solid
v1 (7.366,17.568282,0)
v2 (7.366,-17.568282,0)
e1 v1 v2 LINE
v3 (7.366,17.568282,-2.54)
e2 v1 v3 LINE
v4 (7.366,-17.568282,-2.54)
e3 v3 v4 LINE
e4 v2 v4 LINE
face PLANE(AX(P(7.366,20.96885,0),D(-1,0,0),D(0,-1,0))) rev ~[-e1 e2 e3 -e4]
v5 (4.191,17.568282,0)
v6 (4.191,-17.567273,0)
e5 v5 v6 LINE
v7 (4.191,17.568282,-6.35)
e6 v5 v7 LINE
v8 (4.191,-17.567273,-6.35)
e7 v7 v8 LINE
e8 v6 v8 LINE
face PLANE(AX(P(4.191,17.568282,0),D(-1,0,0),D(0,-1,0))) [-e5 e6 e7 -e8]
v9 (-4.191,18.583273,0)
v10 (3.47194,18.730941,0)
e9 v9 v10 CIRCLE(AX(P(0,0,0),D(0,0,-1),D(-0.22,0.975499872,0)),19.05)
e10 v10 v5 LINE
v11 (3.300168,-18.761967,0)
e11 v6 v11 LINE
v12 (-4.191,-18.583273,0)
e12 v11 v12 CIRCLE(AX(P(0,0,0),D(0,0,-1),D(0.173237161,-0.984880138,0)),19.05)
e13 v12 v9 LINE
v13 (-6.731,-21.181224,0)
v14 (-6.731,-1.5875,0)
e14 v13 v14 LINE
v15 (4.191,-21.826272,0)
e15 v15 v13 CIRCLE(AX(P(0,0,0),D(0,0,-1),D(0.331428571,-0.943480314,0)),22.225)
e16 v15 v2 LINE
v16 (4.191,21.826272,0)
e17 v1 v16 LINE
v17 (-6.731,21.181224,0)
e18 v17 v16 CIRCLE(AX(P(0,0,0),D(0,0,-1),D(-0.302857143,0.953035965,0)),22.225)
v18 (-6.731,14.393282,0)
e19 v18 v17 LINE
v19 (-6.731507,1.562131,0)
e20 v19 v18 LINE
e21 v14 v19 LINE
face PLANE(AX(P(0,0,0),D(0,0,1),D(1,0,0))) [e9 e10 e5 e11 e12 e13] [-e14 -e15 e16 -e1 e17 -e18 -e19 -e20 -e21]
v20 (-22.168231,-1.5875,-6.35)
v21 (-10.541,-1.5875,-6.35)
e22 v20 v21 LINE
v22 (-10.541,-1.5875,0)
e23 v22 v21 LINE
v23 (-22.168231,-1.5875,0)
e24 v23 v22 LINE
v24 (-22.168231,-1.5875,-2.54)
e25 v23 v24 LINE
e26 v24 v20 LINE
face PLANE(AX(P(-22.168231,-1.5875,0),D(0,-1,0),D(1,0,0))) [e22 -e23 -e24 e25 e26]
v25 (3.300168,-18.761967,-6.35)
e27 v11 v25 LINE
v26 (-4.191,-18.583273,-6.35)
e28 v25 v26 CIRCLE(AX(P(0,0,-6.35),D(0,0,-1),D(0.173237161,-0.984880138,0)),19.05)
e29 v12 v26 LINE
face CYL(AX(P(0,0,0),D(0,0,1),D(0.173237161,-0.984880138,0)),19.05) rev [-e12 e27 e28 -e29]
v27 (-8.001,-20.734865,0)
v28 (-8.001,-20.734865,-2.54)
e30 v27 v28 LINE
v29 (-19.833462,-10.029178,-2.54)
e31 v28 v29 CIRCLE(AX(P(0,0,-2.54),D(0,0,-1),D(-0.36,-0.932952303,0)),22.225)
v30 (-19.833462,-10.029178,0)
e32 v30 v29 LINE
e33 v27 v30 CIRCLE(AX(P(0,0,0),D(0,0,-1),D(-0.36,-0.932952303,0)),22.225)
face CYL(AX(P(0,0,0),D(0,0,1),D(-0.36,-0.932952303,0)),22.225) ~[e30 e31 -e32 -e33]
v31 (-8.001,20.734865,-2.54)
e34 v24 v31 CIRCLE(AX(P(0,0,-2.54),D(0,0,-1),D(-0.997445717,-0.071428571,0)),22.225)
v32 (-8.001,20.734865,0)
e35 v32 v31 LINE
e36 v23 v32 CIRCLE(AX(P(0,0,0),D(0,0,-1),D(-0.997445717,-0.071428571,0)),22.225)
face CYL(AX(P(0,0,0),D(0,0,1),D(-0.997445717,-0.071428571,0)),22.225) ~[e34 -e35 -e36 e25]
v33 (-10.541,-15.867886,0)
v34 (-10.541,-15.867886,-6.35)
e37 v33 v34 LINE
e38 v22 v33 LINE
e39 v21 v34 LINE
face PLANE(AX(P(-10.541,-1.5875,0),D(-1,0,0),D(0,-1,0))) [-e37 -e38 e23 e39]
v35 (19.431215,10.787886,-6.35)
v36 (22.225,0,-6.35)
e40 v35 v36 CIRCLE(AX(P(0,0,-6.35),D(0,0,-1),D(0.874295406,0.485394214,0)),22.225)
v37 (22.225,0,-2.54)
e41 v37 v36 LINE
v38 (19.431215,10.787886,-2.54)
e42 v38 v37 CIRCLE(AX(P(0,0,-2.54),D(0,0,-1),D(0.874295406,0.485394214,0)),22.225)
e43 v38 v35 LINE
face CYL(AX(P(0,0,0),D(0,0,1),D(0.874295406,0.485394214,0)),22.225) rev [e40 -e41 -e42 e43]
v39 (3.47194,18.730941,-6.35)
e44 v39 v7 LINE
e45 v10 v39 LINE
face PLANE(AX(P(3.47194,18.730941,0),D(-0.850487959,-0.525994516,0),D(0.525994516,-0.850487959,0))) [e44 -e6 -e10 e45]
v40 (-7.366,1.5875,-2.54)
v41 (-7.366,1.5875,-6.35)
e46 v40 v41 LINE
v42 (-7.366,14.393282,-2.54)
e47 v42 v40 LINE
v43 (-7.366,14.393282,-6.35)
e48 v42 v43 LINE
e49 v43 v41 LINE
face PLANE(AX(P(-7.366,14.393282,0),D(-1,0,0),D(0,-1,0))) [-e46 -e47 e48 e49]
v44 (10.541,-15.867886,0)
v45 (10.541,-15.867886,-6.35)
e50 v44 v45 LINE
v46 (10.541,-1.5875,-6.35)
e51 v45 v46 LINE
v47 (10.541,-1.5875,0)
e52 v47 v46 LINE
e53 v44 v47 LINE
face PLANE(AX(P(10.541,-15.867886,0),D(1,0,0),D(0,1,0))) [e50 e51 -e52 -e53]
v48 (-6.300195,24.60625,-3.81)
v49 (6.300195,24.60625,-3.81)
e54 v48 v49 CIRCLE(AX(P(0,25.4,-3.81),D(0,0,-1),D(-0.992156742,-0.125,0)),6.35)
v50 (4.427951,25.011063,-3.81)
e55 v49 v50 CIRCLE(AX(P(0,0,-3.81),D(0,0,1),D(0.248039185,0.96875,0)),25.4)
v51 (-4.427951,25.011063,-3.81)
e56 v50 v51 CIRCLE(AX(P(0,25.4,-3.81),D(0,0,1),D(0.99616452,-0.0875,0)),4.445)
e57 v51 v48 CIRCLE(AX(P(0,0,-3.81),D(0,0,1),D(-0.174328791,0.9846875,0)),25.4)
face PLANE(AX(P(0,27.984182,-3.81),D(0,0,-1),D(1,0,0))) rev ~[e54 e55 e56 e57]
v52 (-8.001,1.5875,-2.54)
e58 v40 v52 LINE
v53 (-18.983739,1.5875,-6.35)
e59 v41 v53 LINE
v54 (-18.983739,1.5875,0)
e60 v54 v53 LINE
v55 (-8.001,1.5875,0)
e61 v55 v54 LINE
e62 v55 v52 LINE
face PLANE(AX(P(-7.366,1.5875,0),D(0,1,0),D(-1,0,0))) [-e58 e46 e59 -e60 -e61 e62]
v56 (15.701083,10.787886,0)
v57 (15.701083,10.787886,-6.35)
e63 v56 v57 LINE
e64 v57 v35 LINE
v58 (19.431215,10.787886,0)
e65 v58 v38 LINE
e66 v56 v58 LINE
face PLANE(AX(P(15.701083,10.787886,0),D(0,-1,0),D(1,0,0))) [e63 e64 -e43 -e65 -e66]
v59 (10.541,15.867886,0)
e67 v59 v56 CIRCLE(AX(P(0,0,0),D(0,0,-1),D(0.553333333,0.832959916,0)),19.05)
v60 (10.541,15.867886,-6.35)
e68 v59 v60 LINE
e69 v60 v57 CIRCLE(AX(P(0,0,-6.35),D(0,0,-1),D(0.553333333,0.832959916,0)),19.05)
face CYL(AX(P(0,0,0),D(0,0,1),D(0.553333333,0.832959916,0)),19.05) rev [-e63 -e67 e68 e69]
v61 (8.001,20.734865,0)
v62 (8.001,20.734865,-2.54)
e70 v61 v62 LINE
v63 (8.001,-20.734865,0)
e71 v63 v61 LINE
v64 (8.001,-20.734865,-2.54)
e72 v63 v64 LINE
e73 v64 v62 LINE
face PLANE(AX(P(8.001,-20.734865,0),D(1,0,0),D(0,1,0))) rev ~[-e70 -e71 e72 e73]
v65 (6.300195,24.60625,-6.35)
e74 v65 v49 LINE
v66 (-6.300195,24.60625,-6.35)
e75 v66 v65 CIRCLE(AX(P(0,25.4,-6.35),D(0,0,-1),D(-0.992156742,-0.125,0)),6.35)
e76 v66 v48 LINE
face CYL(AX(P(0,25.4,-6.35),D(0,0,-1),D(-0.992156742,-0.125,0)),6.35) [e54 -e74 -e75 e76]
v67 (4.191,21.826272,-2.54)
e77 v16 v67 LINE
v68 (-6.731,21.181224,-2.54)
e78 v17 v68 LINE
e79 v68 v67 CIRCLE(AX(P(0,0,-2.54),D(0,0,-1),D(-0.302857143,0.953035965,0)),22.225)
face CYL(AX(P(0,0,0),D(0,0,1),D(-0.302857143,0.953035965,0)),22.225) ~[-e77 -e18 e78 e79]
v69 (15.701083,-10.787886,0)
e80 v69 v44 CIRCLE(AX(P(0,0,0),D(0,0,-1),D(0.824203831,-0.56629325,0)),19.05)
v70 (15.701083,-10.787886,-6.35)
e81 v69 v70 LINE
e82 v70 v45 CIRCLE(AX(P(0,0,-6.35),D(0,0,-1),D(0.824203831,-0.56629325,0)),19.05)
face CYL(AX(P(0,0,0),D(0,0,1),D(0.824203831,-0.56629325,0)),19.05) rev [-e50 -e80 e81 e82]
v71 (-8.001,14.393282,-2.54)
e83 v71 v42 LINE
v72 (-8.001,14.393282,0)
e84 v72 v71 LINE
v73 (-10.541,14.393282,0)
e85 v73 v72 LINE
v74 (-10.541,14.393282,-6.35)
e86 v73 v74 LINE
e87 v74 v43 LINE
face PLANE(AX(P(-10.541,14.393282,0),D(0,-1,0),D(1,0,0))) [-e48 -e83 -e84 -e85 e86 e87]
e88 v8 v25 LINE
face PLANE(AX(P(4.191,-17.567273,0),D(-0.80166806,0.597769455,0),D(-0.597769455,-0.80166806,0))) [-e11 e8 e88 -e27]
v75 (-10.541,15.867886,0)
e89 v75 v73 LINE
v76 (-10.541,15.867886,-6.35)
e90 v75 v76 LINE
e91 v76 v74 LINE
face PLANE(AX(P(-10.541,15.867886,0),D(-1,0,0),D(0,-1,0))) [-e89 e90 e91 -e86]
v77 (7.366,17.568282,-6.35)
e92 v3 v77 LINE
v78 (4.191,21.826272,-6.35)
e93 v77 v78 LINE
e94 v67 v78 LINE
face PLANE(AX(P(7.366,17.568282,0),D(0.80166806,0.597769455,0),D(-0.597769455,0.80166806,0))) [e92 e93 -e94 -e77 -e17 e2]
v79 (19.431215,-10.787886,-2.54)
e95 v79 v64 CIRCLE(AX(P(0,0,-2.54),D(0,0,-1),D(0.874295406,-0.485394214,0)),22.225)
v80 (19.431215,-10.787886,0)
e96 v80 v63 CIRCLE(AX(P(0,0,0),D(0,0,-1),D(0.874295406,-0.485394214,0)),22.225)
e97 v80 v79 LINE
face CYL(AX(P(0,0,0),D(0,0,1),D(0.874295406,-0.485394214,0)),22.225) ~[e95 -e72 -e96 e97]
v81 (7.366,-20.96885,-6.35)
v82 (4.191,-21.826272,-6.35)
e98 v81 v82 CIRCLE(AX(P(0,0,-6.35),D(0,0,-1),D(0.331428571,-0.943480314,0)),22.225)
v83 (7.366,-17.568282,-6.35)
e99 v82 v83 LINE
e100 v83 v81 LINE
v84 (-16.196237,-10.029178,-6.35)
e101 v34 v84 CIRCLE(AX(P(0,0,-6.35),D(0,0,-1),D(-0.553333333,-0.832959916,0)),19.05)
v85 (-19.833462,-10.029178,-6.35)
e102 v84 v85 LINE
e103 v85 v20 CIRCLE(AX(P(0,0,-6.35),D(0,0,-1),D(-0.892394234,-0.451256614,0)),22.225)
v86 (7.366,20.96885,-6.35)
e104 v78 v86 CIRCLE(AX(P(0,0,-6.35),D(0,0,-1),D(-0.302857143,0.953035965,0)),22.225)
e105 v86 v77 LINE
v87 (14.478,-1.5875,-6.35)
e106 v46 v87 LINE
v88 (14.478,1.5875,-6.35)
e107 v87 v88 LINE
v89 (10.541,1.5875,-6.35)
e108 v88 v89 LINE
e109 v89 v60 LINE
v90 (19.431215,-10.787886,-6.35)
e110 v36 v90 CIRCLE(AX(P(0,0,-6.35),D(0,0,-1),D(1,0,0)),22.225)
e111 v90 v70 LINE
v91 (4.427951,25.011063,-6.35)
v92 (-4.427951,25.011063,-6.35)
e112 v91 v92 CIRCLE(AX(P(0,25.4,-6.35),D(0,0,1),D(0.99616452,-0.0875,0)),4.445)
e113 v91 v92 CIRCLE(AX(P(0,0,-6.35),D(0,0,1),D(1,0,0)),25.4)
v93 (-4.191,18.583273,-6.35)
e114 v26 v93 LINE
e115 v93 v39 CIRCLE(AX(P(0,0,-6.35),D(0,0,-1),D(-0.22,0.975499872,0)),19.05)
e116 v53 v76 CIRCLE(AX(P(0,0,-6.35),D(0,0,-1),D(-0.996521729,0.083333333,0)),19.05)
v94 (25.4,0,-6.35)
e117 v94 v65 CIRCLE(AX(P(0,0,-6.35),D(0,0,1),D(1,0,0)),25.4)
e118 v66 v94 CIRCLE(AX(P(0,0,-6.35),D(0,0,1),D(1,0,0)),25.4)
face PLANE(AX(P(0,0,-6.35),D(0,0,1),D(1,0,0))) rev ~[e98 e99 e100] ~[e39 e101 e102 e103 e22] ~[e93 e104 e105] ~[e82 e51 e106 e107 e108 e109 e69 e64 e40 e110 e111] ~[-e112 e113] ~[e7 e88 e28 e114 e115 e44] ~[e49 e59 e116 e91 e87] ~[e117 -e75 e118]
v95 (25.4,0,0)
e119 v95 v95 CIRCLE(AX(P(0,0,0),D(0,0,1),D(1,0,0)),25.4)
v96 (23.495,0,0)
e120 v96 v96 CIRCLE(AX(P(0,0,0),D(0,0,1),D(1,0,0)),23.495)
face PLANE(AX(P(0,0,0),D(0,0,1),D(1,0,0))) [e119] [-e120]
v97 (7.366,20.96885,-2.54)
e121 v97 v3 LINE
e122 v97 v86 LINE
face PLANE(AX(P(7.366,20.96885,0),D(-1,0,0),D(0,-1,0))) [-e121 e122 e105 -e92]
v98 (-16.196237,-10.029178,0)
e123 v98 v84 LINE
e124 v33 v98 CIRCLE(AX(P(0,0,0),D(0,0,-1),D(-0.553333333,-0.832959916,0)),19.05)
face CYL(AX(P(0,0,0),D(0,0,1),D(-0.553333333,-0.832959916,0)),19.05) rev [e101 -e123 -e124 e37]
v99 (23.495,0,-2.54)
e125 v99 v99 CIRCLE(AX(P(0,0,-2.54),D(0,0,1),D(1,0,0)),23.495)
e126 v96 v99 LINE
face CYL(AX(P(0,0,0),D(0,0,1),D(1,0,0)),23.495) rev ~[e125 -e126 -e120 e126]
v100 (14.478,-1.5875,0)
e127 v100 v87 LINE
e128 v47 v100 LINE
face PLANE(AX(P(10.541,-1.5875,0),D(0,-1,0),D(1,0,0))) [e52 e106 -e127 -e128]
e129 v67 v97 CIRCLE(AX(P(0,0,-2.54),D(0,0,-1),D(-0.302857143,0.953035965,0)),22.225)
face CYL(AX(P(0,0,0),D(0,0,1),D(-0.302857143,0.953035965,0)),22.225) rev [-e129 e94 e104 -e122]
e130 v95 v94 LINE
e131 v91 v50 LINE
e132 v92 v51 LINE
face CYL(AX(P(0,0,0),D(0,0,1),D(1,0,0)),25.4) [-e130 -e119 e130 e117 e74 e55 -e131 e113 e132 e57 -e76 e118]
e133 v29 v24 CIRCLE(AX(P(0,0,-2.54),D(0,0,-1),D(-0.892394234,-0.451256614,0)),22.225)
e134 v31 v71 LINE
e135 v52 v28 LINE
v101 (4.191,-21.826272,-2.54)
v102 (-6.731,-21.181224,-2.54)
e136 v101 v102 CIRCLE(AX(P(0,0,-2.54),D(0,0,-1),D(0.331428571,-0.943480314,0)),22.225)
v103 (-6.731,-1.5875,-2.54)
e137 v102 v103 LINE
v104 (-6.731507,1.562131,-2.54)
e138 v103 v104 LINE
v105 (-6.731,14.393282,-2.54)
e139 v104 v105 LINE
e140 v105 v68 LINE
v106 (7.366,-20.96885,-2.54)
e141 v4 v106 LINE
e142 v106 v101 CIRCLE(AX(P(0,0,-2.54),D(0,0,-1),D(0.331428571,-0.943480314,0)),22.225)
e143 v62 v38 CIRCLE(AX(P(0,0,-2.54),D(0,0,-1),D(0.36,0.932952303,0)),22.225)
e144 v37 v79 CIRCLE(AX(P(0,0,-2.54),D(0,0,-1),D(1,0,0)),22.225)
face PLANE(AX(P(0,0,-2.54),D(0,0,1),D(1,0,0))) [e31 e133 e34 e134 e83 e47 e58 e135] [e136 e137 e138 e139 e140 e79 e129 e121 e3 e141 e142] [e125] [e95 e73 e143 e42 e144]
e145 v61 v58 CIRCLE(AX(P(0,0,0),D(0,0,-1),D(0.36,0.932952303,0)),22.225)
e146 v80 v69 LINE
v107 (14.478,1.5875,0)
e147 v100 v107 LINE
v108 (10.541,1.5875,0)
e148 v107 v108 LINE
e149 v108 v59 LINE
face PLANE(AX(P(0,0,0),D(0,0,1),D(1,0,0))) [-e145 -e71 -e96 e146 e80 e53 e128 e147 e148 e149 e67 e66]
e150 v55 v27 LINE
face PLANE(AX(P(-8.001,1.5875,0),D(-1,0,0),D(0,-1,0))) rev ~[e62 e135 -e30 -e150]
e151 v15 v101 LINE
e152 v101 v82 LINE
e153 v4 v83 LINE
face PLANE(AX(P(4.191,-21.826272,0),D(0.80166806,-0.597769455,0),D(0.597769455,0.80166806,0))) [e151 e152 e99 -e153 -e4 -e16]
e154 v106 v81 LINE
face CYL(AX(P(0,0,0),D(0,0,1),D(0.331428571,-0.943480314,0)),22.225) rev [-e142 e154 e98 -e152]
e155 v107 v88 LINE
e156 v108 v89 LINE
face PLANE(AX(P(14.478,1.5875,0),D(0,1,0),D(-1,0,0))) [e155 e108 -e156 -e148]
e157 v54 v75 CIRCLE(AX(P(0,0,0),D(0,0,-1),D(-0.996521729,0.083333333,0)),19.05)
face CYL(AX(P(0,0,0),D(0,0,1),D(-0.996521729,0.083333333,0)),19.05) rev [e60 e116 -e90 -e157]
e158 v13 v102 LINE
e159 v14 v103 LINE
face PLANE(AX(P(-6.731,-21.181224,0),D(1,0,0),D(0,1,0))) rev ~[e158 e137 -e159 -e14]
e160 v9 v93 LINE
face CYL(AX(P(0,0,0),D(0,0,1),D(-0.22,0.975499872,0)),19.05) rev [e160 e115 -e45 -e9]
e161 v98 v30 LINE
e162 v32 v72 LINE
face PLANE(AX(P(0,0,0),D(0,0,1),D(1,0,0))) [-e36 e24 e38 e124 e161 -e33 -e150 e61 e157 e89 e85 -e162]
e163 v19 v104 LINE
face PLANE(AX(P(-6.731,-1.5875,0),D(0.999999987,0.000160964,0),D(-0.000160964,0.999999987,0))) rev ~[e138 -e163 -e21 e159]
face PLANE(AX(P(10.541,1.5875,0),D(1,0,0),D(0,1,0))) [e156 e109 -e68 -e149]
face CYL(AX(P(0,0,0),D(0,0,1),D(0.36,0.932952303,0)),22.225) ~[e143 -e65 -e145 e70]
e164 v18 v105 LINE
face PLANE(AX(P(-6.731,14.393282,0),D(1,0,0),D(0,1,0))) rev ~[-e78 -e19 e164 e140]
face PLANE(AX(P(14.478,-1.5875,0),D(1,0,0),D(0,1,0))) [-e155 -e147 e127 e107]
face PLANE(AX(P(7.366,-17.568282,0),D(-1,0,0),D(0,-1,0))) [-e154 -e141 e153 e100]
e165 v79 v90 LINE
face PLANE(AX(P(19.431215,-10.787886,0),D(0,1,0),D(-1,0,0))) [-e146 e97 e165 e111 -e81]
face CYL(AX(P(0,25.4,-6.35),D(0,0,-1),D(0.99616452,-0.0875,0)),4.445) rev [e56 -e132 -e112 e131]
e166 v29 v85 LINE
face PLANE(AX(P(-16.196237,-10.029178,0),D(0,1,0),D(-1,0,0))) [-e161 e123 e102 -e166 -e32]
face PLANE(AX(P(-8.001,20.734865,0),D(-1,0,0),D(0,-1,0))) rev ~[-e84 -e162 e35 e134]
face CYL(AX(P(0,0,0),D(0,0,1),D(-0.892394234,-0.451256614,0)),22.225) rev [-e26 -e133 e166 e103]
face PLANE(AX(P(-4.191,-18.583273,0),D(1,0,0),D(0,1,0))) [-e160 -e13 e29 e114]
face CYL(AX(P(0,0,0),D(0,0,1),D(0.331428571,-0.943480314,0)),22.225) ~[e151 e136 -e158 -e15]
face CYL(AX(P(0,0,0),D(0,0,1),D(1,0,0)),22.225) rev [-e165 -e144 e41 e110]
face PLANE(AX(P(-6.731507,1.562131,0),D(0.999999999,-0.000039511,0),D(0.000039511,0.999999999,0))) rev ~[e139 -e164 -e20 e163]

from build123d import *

# Parameters (mm, degrees)
F0_R     = 25.4
F0_R_2   = 23.495
F1_DEPTH = 6.35
F2_DEPTH = 2.54
F4_DEPTH = 2.54


with BuildPart() as f1:
    # F0 (on Top) → F1 (new body)
    with BuildSketch(Plane.XY):
        Circle(F0_R)
        Circle(F0_R_2, mode=Mode.SUBTRACT)
        Circle(F0_R_2)
        with BuildLine():
            ThreePointArc((19.4312153991, 10.7878864062), (21.5152200459, 5.5718875955), (22.225, 0))
            ThreePointArc((22.225, 0), (21.5152200459, -5.5718875955), (19.4312153991, -10.7878864062))
            ThreePointArc((19.4312153991, -10.7878864062), (14.5899693593, -16.7655426126), (8.001, -20.7348649381))
            ThreePointArc((8.001, -20.7348649381), (7.6843906394, -20.8542745139), (7.366, -20.9688499685))
            ThreePointArc((7.366, -20.9688499685), (5.7943813589, -21.4563689768), (4.191, -21.8262718759))
            ThreePointArc((4.191, -21.8262718759), (-1.3103135445, -22.1863404692), (-6.731, -21.1812243272))
            ThreePointArc((-6.731, -21.1812243272), (-7.3693802437, -20.9676622403), (-8.001, -20.7348649381))
            ThreePointArc((-8.001, -20.7348649381), (-14.9111451119, -16.480545393), (-19.833461849, -10.0291782357))
            ThreePointArc((-19.833461849, -10.0291782357), (-21.420808455, -5.9244907069), (-22.1682310695, -1.5875))
            ThreePointArc((-22.1682310695, -1.5875), (-18.7647973594, 11.9093662746), (-8.001, 20.7348649381))
            ThreePointArc((-8.001, 20.7348649381), (-7.3693802437, 20.9676622403), (-6.731, 21.1812243272))
            ThreePointArc((-6.731, 21.1812243272), (-1.3103135445, 22.1863404692), (4.191, 21.8262718759))
            ThreePointArc((4.191, 21.8262718759), (5.7943813589, 21.4563689768), (7.366, 20.9688499685))
            ThreePointArc((7.366, 20.9688499685), (7.6843906394, 20.8542745139), (8.001, 20.7348649381))
            ThreePointArc((8.001, 20.7348649381), (14.5899693593, 16.7655426126), (19.4312153991, 10.7878864062))
        make_face(mode=Mode.SUBTRACT)
        with BuildLine():
            Line((7.366, 17.5682823292), (4.191, 21.8262718759))
            ThreePointArc((4.191, 21.8262718759), (-1.3103135445, 22.1863404692), (-6.731, 21.1812243272))
            Line((-6.731, 21.1812243272), (-6.731, 14.3932823292))
            Line((-6.731, 14.3932823292), (-6.7315069765, 1.5621306643))
            Line((-6.7315069765, 1.5621306643), (-6.731, -1.5875))
            Line((-6.731, -1.5875), (-6.731, -21.1812243272))
            ThreePointArc((-6.731, -21.1812243272), (-1.3103135445, -22.1863404692), (4.191, -21.8262718759))
            Line((4.191, -21.8262718759), (7.366, -17.5682823292))
            Line((7.366, -17.5682823292), (7.366, -1.5875))
            Line((7.366, -1.5875), (7.366, 1.5875))
            Line((7.366, 1.5875), (7.366, 17.5682823292))
        make_face()
        with BuildLine():
            Line((-4.191, 1.5875), (-4.191, 18.5832725589))
            ThreePointArc((-4.191, 18.5832725589), (-0.3670330457, 19.0464638908), (3.4719400554, 18.7309405063))
            Line((3.4719400554, 18.7309405063), (4.191, 17.5682823292))
            Line((4.191, 17.5682823292), (4.191, -17.5672725589))
            Line((4.191, -17.5672725589), (3.3001679253, -18.7619666257))
            ThreePointArc((3.3001679253, -18.7619666257), (-0.4542888274, -19.0445824754), (-4.191, -18.5832725589))
            Line((-4.191, -18.5832725589), (-4.191, -1.5875))
            Line((-4.191, -1.5875), (-4.191, 1.5875))
        make_face(mode=Mode.SUBTRACT)
        with BuildLine():
            Line((-8.001, 14.3932823292), (-8.001, 20.7348649381))
            ThreePointArc((-8.001, 20.7348649381), (-18.7647973594, 11.9093662746), (-22.1682310695, -1.5875))
            Line((-22.1682310695, -1.5875), (-18.9837389297, -1.5875))
            Line((-18.9837389297, -1.5875), (-10.541, -1.5875))
            Line((-10.541, -1.5875), (-10.541, -15.8678864062))
            ThreePointArc((-10.541, -15.8678864062), (-13.6836612477, -13.2536755226), (-16.1962367208, -10.0291782357))
            Line((-16.1962367208, -10.0291782357), (-19.833461849, -10.0291782357))
            ThreePointArc((-19.833461849, -10.0291782357), (-14.9111451119, -16.480545393), (-8.001, -20.7348649381))
            Line((-8.001, -20.7348649381), (-8.001, -1.5875))
            Line((-8.001, -1.5875), (-8.001, 1.5875))
            Line((-8.001, 1.5875), (-18.9837389297, 1.5875))
            ThreePointArc((-18.9837389297, 1.5875), (-16.3984728311, 9.6949775042), (-10.541, 15.8678864062))
            Line((-10.541, 15.8678864062), (-10.541, 14.3932823292))
            Line((-10.541, 14.3932823292), (-8.001, 14.3932823292))
        make_face()
        with BuildLine():
            Line((15.7010829845, 10.7878864062), (19.4312153991, 10.7878864062))
            ThreePointArc((19.4312153991, 10.7878864062), (14.5899693593, 16.7655426126), (8.001, 20.7348649381))
            Line((8.001, 20.7348649381), (8.001, -20.7348649381))
            ThreePointArc((8.001, -20.7348649381), (14.5899693593, -16.7655426126), (19.4312153991, -10.7878864062))
            Line((19.4312153991, -10.7878864062), (15.7010829845, -10.7878864062))
            ThreePointArc((15.7010829845, -10.7878864062), (13.3646298056, -13.5753147351), (10.541, -15.8678864062))
            Line((10.541, -15.8678864062), (10.541, -1.5875))
            Line((10.541, -1.5875), (14.478, -1.5875))
            Line((14.478, -1.5875), (14.478, 1.5875))
            Line((14.478, 1.5875), (10.541, 1.5875))
            Line((10.541, 1.5875), (10.541, 15.8678864062))
            ThreePointArc((10.541, 15.8678864062), (13.3646298056, 13.5753147351), (15.7010829845, 10.7878864062))
        make_face()
        with BuildLine():
            Line((8.001, -20.7348649381), (8.001, 20.7348649381))
            ThreePointArc((8.001, 20.7348649381), (7.6843906394, 20.8542745139), (7.366, 20.9688499685))
            Line((7.366, 20.9688499685), (7.366, 17.5682823292))
            Line((7.366, 17.5682823292), (7.366, 1.5875))
            Line((7.366, 1.5875), (7.366, -1.5875))
            Line((7.366, -1.5875), (7.366, -17.5682823292))
            Line((7.366, -17.5682823292), (7.366, -20.9688499685))
            ThreePointArc((7.366, -20.9688499685), (7.6843906394, -20.8542745139), (8.001, -20.7348649381))
        make_face()
        with BuildLine():
            ThreePointArc((-8.001, -20.7348649381), (-7.3693802437, -20.9676622403), (-6.731, -21.1812243272))
            Line((-6.731, -21.1812243272), (-6.731, -1.5875))
            Line((-6.731, -1.5875), (-7.366, -1.5875))
            Line((-7.366, -1.5875), (-8.001, -1.5875))
            Line((-8.001, -1.5875), (-8.001, -20.7348649381))
        make_face()
        with BuildLine():
            Line((-6.731, 14.3932823292), (-6.731, 21.1812243272))
            ThreePointArc((-6.731, 21.1812243272), (-7.3693802437, 20.9676622403), (-8.001, 20.7348649381))
            Line((-8.001, 20.7348649381), (-8.001, 14.3932823292))
            Line((-8.001, 14.3932823292), (-7.366, 14.3932823292))
            Line((-7.366, 14.3932823292), (-6.731, 14.3932823292))
        make_face()
        Polygon((-6.7315069765, 1.5621306643), (-6.731, 14.3932823292), (-7.366, 14.3932823292), (-7.366, 1.5875), align=None)
        Polygon((-7.366, -1.5875), (-6.731, -1.5875), (-6.7315069765, 1.5621306643), (-7.366, 1.5875), (-8.001, 1.5875), (-8.001, -1.5875), align=None)
    extrude(amount=-F1_DEPTH)

    # F0 (on Top) → F2 (cut)
    with BuildSketch(Plane.XY):
        Circle(F0_R_2)
        with BuildLine():
            ThreePointArc((19.4312153991, 10.7878864062), (21.5152200459, 5.5718875955), (22.225, 0))
            ThreePointArc((22.225, 0), (21.5152200459, -5.5718875955), (19.4312153991, -10.7878864062))
            ThreePointArc((19.4312153991, -10.7878864062), (14.5899693593, -16.7655426126), (8.001, -20.7348649381))
            ThreePointArc((8.001, -20.7348649381), (7.6843906394, -20.8542745139), (7.366, -20.9688499685))
            ThreePointArc((7.366, -20.9688499685), (5.7943813589, -21.4563689768), (4.191, -21.8262718759))
            ThreePointArc((4.191, -21.8262718759), (-1.3103135445, -22.1863404692), (-6.731, -21.1812243272))
            ThreePointArc((-6.731, -21.1812243272), (-7.3693802437, -20.9676622403), (-8.001, -20.7348649381))
            ThreePointArc((-8.001, -20.7348649381), (-14.9111451119, -16.480545393), (-19.833461849, -10.0291782357))
            ThreePointArc((-19.833461849, -10.0291782357), (-21.420808455, -5.9244907069), (-22.1682310695, -1.5875))
            ThreePointArc((-22.1682310695, -1.5875), (-18.7647973594, 11.9093662746), (-8.001, 20.7348649381))
            ThreePointArc((-8.001, 20.7348649381), (-7.3693802437, 20.9676622403), (-6.731, 21.1812243272))
            ThreePointArc((-6.731, 21.1812243272), (-1.3103135445, 22.1863404692), (4.191, 21.8262718759))
            ThreePointArc((4.191, 21.8262718759), (5.7943813589, 21.4563689768), (7.366, 20.9688499685))
            ThreePointArc((7.366, 20.9688499685), (7.6843906394, 20.8542745139), (8.001, 20.7348649381))
            ThreePointArc((8.001, 20.7348649381), (14.5899693593, 16.7655426126), (19.4312153991, 10.7878864062))
        make_face(mode=Mode.SUBTRACT)
        with BuildLine():
            Line((-6.731, 14.3932823292), (-6.731, 21.1812243272))
            ThreePointArc((-6.731, 21.1812243272), (-7.3693802437, 20.9676622403), (-8.001, 20.7348649381))
            Line((-8.001, 20.7348649381), (-8.001, 14.3932823292))
            Line((-8.001, 14.3932823292), (-7.366, 14.3932823292))
            Line((-7.366, 14.3932823292), (-6.731, 14.3932823292))
        make_face()
        Polygon((-6.7315069765, 1.5621306643), (-6.731, 14.3932823292), (-7.366, 14.3932823292), (-7.366, 1.5875), align=None)
        Polygon((-7.366, -1.5875), (-6.731, -1.5875), (-6.7315069765, 1.5621306643), (-7.366, 1.5875), (-8.001, 1.5875), (-8.001, -1.5875), align=None)
        with BuildLine():
            ThreePointArc((-8.001, -20.7348649381), (-7.3693802437, -20.9676622403), (-6.731, -21.1812243272))
            Line((-6.731, -21.1812243272), (-6.731, -1.5875))
            Line((-6.731, -1.5875), (-7.366, -1.5875))
            Line((-7.366, -1.5875), (-8.001, -1.5875))
            Line((-8.001, -1.5875), (-8.001, -20.7348649381))
        make_face()
        with BuildLine():
            Line((8.001, -20.7348649381), (8.001, 20.7348649381))
            ThreePointArc((8.001, 20.7348649381), (7.6843906394, 20.8542745139), (7.366, 20.9688499685))
            Line((7.366, 20.9688499685), (7.366, 17.5682823292))
            Line((7.366, 17.5682823292), (7.366, 1.5875))
            Line((7.366, 1.5875), (7.366, -1.5875))
            Line((7.366, -1.5875), (7.366, -17.5682823292))
            Line((7.366, -17.5682823292), (7.366, -20.9688499685))
            ThreePointArc((7.366, -20.9688499685), (7.6843906394, -20.8542745139), (8.001, -20.7348649381))
        make_face()
    extrude(amount=-F2_DEPTH, mode=Mode.SUBTRACT)

    # F3 (on face) → F4 (join)
    with BuildSketch(Plane(origin=(0, 0, -6.35), x_dir=(1, 0, 0), z_dir=(0, 0, -1))):
        with BuildLine():
            ThreePointArc((-4.4279512894, -25.0110625), (-5.3678907079, -24.826311634), (-6.3001953095, -24.60625))
            ThreePointArc((-6.3001953095, -24.60625), (0, -31.75), (6.3001953095, -24.60625))
            ThreePointArc((6.3001953095, -24.60625), (5.3678907079, -24.826311634), (4.4279512894, -25.0110625))
            ThreePointArc((4.4279512894, -25.0110625), (0, -29.845), (-4.4279512894, -25.0110625))
        make_face()
    extrude(amount=-F4_DEPTH)


solid = f1.part
